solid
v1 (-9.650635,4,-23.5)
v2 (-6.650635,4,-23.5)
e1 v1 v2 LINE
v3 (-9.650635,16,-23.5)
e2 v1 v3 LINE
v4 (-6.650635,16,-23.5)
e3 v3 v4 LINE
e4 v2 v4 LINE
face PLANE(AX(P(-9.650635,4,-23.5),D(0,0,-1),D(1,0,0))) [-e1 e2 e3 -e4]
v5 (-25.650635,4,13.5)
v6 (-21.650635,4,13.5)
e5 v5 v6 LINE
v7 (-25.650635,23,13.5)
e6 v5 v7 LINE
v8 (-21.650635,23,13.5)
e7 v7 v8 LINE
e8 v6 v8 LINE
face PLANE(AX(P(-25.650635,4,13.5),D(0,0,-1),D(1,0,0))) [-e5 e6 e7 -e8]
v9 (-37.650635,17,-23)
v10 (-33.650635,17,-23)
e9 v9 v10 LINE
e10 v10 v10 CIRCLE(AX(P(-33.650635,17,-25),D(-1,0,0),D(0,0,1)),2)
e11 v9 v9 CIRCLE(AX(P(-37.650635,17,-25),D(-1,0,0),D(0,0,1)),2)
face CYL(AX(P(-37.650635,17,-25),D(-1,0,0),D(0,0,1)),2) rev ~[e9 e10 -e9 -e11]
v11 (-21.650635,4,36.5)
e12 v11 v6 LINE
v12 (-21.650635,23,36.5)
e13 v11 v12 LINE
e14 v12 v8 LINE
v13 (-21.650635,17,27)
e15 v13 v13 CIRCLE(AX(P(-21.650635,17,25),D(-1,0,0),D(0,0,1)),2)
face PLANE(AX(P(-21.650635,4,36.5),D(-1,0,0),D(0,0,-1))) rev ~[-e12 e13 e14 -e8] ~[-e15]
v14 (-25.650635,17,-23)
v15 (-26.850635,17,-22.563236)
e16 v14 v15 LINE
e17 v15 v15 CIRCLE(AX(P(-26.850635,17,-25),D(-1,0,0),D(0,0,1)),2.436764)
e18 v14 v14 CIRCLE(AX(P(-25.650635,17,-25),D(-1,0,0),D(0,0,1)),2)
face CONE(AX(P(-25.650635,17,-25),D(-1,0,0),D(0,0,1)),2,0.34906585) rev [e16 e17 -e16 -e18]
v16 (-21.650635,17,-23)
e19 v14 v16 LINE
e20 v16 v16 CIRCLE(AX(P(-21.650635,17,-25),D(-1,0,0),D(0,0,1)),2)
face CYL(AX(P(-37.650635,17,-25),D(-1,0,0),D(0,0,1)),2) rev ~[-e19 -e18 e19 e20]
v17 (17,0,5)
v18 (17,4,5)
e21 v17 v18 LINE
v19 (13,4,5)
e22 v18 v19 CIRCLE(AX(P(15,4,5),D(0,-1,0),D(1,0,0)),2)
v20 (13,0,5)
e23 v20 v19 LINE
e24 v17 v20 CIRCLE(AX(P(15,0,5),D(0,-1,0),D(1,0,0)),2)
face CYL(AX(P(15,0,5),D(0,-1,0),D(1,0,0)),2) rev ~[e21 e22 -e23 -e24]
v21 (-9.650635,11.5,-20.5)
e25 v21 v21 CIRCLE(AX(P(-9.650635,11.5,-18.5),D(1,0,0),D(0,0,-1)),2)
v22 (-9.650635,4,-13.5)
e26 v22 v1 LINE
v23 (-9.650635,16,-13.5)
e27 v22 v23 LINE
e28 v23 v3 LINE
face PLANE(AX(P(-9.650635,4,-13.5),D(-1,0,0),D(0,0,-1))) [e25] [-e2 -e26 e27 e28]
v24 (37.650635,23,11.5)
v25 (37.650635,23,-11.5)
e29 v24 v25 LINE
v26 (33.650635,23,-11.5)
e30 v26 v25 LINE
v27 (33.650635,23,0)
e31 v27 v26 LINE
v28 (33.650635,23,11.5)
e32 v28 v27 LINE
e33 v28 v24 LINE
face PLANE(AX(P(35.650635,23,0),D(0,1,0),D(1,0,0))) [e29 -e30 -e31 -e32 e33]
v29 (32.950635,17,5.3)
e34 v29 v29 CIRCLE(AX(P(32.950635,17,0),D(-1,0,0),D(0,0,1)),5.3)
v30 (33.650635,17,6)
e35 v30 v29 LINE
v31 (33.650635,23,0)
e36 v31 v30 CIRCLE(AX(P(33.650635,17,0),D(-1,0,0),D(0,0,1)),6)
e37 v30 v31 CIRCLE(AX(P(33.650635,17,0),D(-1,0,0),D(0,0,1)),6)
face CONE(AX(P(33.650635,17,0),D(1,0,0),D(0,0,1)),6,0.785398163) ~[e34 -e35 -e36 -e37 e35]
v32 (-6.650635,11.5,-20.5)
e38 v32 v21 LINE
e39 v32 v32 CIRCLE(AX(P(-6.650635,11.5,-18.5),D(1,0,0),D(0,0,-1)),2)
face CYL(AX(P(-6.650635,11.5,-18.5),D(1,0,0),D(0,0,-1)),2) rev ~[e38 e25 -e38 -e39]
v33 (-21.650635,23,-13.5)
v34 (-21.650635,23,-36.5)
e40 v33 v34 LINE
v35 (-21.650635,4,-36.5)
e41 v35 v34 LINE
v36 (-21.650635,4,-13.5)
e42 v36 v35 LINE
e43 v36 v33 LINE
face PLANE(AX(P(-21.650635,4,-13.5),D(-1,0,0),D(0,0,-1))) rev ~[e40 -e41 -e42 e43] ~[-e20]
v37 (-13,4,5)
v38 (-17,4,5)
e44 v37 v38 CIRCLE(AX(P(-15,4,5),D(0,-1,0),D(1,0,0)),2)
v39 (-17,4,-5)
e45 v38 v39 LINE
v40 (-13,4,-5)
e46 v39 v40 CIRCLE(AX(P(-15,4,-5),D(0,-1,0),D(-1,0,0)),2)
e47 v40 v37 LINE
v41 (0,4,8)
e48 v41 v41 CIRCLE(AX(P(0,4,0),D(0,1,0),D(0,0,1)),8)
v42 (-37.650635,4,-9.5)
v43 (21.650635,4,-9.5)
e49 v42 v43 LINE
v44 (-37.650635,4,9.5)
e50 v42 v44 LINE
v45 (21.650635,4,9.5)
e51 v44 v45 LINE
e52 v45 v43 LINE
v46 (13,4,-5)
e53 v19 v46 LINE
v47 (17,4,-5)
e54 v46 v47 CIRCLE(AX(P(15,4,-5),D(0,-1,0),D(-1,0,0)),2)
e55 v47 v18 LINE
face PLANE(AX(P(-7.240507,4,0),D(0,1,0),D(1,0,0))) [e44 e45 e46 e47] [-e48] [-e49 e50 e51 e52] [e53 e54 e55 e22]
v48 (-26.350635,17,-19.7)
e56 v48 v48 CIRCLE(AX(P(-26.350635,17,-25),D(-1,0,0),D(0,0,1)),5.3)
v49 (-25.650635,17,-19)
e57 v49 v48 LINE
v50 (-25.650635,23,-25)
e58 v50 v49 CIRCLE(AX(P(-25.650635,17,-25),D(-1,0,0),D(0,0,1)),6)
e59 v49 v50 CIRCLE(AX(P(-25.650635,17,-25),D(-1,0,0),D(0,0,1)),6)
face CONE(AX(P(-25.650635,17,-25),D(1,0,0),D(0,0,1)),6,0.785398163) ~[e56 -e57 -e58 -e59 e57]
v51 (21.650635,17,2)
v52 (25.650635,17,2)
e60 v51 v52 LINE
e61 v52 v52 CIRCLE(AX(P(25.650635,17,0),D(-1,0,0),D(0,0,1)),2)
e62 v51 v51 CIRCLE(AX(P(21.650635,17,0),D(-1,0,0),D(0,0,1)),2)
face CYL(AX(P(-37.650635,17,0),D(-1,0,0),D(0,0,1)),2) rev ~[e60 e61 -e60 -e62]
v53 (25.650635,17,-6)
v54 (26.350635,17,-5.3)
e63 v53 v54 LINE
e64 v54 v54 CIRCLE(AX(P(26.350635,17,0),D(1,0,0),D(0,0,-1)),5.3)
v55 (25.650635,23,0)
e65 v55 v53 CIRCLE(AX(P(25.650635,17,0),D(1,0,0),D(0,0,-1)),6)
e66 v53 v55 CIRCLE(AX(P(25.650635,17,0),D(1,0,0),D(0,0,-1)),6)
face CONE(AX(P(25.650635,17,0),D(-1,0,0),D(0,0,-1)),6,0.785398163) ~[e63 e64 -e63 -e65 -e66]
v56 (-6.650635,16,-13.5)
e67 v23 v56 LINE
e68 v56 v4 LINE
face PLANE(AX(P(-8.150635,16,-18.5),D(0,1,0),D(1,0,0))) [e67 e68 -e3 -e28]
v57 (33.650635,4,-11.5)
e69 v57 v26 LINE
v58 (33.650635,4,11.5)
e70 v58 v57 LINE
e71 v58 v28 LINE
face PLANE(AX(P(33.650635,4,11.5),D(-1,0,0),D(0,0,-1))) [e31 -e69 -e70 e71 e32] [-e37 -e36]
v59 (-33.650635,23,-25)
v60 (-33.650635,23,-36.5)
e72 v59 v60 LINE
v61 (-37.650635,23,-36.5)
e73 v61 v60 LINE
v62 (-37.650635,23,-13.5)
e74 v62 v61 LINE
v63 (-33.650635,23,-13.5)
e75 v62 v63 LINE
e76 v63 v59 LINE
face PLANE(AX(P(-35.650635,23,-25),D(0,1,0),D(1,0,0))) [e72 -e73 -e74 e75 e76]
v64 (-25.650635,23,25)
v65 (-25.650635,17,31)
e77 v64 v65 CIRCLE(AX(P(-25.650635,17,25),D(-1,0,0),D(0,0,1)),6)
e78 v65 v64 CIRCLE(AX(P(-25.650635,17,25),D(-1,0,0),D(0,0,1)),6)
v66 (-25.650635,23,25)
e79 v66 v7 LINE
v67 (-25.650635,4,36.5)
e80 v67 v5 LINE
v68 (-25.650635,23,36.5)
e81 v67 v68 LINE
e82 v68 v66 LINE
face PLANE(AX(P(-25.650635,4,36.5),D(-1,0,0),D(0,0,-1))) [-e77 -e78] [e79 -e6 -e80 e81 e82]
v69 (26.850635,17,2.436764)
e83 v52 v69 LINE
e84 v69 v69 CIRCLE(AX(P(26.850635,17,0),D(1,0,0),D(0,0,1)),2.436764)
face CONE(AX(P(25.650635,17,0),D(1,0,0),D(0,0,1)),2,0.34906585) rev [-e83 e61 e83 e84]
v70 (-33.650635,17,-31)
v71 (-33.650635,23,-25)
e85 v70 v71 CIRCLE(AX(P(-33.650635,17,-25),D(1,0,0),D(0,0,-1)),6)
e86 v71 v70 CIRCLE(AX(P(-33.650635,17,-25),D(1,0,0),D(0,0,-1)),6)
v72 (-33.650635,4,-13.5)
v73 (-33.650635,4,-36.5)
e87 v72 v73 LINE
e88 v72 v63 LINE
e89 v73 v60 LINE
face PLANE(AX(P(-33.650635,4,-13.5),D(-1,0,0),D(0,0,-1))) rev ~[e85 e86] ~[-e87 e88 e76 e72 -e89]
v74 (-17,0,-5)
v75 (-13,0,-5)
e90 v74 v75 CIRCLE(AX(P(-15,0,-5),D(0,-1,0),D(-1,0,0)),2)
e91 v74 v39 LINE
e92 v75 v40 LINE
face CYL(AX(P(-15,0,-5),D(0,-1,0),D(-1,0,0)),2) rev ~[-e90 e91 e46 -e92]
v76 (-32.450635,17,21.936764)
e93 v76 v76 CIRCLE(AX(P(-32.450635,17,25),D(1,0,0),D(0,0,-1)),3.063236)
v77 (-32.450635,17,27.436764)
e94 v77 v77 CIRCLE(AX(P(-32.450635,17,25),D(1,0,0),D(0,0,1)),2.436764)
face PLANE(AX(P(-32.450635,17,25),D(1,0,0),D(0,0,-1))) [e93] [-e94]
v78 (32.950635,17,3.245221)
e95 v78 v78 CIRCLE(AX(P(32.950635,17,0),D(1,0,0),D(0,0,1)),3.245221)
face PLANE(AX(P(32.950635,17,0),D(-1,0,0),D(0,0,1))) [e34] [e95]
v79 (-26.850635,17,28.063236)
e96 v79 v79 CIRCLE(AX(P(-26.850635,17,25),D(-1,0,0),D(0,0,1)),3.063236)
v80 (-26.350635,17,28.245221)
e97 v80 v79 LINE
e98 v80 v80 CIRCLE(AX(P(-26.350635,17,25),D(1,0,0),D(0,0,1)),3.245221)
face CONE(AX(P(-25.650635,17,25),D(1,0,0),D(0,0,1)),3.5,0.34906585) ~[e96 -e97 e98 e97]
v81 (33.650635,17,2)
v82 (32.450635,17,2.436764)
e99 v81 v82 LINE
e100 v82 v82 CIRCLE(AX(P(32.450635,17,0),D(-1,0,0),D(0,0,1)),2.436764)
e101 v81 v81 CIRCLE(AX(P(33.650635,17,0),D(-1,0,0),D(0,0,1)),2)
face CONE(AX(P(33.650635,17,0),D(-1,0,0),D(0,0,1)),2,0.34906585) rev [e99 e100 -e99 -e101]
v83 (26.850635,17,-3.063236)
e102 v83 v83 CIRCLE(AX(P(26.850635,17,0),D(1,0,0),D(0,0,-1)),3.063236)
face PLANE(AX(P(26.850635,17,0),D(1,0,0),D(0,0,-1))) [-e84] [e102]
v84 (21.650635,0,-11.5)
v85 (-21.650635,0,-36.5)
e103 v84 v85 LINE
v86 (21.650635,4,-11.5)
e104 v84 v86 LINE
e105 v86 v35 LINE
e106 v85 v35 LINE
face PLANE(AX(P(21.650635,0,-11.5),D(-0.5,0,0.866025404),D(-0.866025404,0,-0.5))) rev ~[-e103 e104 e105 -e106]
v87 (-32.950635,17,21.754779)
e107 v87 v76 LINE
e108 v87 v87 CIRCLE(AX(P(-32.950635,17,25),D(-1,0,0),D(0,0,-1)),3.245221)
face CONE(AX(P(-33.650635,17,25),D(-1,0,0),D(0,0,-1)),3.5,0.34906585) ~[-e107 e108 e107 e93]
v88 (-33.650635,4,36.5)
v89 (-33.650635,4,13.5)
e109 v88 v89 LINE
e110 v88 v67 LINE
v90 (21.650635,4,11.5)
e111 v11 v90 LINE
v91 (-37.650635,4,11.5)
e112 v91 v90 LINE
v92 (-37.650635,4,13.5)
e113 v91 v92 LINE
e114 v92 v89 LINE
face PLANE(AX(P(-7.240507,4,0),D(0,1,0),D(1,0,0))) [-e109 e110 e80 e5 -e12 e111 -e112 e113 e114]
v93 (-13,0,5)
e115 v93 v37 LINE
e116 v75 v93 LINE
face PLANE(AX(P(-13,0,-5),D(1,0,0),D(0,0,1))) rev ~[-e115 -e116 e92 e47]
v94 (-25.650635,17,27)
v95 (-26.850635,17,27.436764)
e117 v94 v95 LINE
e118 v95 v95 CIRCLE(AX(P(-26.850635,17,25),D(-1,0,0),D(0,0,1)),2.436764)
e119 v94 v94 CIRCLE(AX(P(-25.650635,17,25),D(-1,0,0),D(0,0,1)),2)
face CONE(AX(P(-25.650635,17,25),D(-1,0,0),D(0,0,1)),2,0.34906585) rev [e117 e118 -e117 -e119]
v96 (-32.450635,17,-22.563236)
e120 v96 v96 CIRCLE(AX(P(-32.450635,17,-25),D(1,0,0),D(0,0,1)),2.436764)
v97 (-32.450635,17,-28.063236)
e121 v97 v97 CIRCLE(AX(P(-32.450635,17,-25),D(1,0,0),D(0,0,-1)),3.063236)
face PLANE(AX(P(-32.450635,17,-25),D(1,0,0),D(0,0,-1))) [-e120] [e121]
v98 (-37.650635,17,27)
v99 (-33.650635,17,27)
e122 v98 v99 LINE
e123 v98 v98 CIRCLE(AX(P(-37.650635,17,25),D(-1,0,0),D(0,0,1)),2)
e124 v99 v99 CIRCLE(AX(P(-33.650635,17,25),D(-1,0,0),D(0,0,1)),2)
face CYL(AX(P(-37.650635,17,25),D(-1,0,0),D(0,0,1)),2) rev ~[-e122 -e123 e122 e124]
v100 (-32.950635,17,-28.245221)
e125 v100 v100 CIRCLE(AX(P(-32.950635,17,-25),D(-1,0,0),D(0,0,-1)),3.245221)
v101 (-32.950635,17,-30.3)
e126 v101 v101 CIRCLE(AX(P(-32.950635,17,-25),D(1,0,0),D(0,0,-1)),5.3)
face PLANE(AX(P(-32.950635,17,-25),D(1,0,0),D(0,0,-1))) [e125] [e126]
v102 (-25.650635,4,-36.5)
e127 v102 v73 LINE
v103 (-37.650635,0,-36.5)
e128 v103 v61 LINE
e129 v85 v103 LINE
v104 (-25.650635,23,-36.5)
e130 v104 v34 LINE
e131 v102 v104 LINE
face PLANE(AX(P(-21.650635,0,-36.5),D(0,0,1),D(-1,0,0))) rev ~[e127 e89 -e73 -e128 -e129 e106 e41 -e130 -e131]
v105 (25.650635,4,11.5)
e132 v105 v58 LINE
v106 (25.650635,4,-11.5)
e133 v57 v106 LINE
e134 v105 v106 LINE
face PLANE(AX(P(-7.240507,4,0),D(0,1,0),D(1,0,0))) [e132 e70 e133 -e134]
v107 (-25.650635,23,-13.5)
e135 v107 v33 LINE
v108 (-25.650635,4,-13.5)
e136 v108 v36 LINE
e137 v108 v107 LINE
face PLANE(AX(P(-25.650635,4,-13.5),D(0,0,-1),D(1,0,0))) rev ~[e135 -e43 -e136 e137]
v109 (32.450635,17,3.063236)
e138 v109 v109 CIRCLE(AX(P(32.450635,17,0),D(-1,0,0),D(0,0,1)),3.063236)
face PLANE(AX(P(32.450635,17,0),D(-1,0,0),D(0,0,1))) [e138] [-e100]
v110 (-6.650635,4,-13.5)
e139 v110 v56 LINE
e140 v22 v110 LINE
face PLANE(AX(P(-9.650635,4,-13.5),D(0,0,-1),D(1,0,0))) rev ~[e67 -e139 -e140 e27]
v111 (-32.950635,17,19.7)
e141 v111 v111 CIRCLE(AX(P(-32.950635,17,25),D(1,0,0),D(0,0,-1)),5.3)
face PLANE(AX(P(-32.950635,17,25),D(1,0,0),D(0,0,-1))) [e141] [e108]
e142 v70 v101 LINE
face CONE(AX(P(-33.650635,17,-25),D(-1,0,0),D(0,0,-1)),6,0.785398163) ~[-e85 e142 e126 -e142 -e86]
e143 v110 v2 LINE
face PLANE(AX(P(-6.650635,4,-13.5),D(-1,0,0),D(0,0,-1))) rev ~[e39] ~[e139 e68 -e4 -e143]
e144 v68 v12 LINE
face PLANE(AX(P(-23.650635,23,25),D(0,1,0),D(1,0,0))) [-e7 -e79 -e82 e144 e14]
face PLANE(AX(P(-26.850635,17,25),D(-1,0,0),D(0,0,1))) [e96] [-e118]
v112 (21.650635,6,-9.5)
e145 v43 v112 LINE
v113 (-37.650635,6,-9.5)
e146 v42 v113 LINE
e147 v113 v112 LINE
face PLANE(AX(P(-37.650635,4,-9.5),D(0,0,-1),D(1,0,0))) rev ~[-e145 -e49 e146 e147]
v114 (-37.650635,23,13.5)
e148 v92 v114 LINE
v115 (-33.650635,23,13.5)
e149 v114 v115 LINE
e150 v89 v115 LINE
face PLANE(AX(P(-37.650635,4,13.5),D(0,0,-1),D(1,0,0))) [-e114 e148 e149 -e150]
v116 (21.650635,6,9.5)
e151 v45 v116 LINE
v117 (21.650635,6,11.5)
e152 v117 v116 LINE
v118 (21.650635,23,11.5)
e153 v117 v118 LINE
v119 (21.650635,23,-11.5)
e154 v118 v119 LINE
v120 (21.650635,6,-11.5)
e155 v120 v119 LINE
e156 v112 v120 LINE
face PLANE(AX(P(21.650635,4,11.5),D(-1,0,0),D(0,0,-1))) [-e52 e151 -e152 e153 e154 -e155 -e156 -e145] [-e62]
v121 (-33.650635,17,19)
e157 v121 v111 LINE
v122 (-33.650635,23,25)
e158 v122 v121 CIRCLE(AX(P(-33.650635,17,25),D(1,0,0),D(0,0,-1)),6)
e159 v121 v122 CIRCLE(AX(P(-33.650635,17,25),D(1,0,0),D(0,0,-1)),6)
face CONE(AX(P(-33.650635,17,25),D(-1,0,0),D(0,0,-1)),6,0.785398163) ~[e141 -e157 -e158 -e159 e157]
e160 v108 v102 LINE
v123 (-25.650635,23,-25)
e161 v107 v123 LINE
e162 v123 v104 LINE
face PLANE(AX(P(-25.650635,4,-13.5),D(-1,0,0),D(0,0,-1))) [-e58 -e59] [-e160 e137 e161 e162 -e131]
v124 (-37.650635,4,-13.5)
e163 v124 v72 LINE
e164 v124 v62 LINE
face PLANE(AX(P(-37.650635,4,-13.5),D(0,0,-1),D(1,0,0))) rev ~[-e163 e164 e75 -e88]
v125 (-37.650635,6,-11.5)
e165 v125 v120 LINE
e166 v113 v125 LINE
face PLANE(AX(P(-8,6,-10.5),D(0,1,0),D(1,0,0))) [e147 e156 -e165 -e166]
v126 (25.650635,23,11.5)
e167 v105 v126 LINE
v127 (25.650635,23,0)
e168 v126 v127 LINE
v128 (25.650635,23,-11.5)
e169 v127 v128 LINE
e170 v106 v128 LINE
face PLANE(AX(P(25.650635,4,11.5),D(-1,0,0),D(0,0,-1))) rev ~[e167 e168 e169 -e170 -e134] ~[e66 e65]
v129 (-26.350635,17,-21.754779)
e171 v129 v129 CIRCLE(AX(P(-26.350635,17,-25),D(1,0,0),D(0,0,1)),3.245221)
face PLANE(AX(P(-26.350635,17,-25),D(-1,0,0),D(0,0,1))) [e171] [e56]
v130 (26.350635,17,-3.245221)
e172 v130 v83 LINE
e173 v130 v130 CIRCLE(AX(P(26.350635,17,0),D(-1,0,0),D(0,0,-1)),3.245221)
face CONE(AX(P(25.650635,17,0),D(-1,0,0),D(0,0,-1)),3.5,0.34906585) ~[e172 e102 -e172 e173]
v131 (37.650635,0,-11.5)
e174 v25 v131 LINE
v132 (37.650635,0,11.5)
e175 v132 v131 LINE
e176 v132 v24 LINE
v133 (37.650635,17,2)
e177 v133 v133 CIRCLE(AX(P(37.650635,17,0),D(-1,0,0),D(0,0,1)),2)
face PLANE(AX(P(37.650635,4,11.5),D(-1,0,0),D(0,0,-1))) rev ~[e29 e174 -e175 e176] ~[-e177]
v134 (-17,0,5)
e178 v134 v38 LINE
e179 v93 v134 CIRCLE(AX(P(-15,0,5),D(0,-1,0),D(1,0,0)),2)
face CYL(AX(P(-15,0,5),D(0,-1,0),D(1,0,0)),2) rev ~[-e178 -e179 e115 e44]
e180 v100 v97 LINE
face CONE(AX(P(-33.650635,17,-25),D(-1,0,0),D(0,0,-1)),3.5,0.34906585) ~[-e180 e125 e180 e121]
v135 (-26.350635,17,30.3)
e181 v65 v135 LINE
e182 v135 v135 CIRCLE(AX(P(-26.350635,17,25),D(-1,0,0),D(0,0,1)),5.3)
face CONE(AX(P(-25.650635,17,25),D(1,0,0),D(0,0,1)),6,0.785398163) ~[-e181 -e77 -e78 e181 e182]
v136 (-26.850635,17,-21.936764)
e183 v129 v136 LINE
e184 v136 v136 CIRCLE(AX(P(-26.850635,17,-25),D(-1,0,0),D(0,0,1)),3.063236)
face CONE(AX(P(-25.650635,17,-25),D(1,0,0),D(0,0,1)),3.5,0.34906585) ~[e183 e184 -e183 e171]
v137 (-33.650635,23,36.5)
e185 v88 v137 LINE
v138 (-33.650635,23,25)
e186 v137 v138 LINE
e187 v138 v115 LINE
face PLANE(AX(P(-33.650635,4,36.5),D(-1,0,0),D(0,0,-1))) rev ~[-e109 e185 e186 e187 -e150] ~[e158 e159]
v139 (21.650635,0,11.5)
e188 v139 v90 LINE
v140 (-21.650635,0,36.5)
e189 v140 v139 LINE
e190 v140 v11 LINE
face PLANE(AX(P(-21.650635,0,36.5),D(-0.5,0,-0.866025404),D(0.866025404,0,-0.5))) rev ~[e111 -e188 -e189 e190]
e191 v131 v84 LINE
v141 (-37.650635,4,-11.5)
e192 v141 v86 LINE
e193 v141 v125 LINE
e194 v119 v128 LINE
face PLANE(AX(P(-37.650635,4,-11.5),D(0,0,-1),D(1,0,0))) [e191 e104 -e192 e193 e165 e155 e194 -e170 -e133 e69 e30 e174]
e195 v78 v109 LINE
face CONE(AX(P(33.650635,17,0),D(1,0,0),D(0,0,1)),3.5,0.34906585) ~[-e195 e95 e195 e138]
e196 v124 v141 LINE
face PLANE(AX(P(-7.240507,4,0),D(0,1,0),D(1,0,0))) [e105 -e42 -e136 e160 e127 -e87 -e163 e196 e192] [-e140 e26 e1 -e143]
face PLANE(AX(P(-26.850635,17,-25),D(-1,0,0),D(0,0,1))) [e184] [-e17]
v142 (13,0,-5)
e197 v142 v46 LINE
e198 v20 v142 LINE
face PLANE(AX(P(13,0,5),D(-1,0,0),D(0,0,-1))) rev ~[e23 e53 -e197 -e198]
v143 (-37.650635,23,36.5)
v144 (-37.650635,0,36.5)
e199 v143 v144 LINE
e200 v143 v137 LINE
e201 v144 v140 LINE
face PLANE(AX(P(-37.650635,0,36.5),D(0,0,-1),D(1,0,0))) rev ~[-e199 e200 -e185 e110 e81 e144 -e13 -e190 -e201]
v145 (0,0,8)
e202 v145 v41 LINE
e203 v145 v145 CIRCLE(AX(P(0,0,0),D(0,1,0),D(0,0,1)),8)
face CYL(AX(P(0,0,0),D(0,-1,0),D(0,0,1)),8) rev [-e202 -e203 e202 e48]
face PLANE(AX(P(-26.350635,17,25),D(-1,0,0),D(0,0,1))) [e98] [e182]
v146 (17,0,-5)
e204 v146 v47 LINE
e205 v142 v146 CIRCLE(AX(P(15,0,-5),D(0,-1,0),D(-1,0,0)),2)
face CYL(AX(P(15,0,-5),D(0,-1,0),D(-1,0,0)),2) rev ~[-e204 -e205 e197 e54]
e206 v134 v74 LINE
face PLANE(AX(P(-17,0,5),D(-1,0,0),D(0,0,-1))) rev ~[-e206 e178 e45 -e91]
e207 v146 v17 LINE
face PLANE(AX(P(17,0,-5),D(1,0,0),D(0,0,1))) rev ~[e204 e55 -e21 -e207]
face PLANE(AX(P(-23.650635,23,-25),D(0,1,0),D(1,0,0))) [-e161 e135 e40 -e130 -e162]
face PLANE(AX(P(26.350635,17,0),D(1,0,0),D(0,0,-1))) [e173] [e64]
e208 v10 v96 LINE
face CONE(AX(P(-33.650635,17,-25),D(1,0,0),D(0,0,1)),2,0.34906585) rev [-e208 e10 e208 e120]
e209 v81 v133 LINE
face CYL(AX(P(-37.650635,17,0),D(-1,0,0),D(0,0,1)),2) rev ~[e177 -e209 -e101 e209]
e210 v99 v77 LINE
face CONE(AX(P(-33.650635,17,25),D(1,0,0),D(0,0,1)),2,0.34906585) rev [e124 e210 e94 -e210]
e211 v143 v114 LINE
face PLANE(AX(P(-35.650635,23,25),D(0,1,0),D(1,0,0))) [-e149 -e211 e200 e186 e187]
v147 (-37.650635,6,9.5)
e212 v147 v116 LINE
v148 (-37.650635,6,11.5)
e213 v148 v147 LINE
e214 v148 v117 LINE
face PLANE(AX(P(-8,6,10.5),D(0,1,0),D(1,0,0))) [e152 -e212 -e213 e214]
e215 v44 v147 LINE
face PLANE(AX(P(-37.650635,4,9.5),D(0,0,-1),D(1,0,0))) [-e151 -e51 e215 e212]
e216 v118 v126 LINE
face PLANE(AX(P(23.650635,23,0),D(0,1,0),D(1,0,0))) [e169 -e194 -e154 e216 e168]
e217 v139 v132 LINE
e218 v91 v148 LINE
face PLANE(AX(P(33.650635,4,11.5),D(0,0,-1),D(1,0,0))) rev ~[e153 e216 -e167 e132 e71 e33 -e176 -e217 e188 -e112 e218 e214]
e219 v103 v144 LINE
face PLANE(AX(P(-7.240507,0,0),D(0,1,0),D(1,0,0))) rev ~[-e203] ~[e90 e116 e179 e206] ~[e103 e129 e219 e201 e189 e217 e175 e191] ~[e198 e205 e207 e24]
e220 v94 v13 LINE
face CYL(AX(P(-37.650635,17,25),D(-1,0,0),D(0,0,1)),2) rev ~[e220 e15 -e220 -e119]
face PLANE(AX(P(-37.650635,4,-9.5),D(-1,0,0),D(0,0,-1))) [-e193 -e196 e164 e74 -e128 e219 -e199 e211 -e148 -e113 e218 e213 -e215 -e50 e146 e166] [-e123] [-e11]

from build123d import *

# Parameters (mm, degrees)
SKETCH1_R                     = 8
BOSS_EXTRUDE1_DEPTH           = 4
SKETCH2_W                     = 4
SKETCH2_H                     = 23
BOSS_EXTRUDE2_DEPTH           = 19
SKETCH3_R                     = 2
CUT_EXTRUDE1_DEPTH            = 87.784395441
SKETCH4_R                     = 6
SKETCH4_R_2                   = 2
BOSS_EXTRUDE3_DEPTH           = 0.7
BOSS_EXTRUDE3_DRAFT           = 45
BOSS_EXTRUDE3_PROFILE_2_DEPTH = 0.7
BOSS_EXTRUDE3_PROFILE_2_DRAFT = 45
SKETCH5_R                     = 3.5
SKETCH5_R_2                   = 2
BOSS_EXTRUDE4_DEPTH           = 1.2
BOSS_EXTRUDE4_DRAFT           = 20
BOSS_EXTRUDE4_PROFILE_2_DEPTH = 1.2
BOSS_EXTRUDE4_PROFILE_2_DRAFT = 20
SKETCH6_R                     = 6
SKETCH6_R_2                   = 2
BOSS_EXTRUDE5_DEPTH           = 0.7
BOSS_EXTRUDE5_DRAFT           = 45
BOSS_EXTRUDE5_PROFILE_2_DEPTH = 0.7
BOSS_EXTRUDE5_PROFILE_2_DRAFT = 45
SKETCH7_R                     = 3.5
SKETCH7_R_2                   = 2
BOSS_EXTRUDE6_DEPTH           = 1.2
BOSS_EXTRUDE6_DRAFT           = 20
BOSS_EXTRUDE6_PROFILE_2_DEPTH = 1.2
BOSS_EXTRUDE6_PROFILE_2_DRAFT = 20
SKETCH8_R                     = 6
SKETCH8_R_2                   = 2
BOSS_EXTRUDE7_DEPTH           = 0.7
BOSS_EXTRUDE7_DRAFT           = 45
SKETCH9_R                     = 3.5
SKETCH9_R_2                   = 2
BOSS_EXTRUDE8_DEPTH           = 1.2
BOSS_EXTRUDE8_DRAFT           = 20
SKETCH11_R                    = 6
SKETCH11_R_2                  = 2
BOSS_EXTRUDE9_DEPTH           = 0.7
BOSS_EXTRUDE9_DRAFT           = 45
SKETCH12_R                    = 3.5
SKETCH12_R_2                  = 2
BOSS_EXTRUDE10_DEPTH          = 1.2
BOSS_EXTRUDE10_DRAFT          = 20
SKETCH13_W                    = 59.30127019
SKETCH13_H                    = 2
BOSS_EXTRUDE11_DEPTH          = 2
SKETCH14_W                    = 3
SKETCH14_H                    = 10
BOSS_EXTRUDE12_DEPTH          = 12
CUT_EXTRUDE2_REACH            = 63.837
SKETCH15_R                    = 2


with BuildPart() as part:
    # Sketch1 → Boss-Extrude1 (new body)
    with BuildSketch(Plane(origin=(0, 0, 0), x_dir=(1, 0, 0), z_dir=(0, 1, 0))):
        Polygon((-21.650635095, 36.5), (-37.650635095, 36.5), (-37.650635095, -36.5), (-21.650635095, -36.5), (21.650635095, -11.5), (37.650635095, -11.5), (37.650635095, 11.5), (21.650635095, 11.5), align=None)
        with BuildLine():
            ThreePointArc((-13, -5), (-15, -7), (-17, -5))
            Line((-17, -5), (-17, 5))
            ThreePointArc((-17, 5), (-15, 7), (-13, 5))
            Line((-13, 5), (-13, -5))
        make_face(mode=Mode.SUBTRACT)
        with Locations(Location((0, 0, 0), (0, 0, 270))):
            Circle(SKETCH1_R, mode=Mode.SUBTRACT)
        with BuildLine():
            ThreePointArc((17, -5), (15, -7), (13, -5))
            Line((13, -5), (13, 5))
            ThreePointArc((13, 5), (15, 7), (17, 5))
            Line((17, 5), (17, -5))
        make_face(mode=Mode.SUBTRACT)
    extrude(amount=BOSS_EXTRUDE1_DEPTH)

    # Sketch2 → Boss-Extrude2 (add)
    with BuildSketch(Plane(origin=(0, 4, 0), x_dir=(1, 0, 0), z_dir=(0, 1, 0))):
        with Locations((35.650635095, 0)):
            Rectangle(SKETCH2_W, SKETCH2_H)
        with Locations((23.650635095, 0)):
            Rectangle(SKETCH2_W, SKETCH2_H)
        with Locations((-35.650635095, 25)):
            Rectangle(SKETCH2_W, SKETCH2_H)
        with Locations((-23.650635095, 25)):
            Rectangle(SKETCH2_W, SKETCH2_H)
        with Locations((-35.650635095, -25)):
            Rectangle(SKETCH2_W, SKETCH2_H)
        with Locations((-23.650635095, -25)):
            Rectangle(SKETCH2_W, SKETCH2_H)
    extrude(amount=BOSS_EXTRUDE2_DEPTH)

    # Sketch3 → Cut-Extrude1 (cut, through all)
    with BuildSketch(Plane.ZY.offset(37.650635095)):
        with Locations((-25, 17)):
            Circle(SKETCH3_R)
        with Locations((0, 17)):
            Circle(SKETCH3_R)
        with Locations((25, 17)):
            Circle(SKETCH3_R)
    extrude(amount=-CUT_EXTRUDE1_DEPTH, mode=Mode.SUBTRACT)


with BuildPart() as boss_extrude3_tool:
    # Sketch4 → Boss-Extrude3 (with draft: the straight prism first)
    with BuildSketch(Plane.ZY.offset(25.650635095)):
        with Locations((-25, 17)):
            Circle(SKETCH4_R)
        with Locations((-25, 17)):
            Circle(SKETCH4_R_2, mode=Mode.SUBTRACT)
    extrude(amount=BOSS_EXTRUDE3_DEPTH)
    # Boss-Extrude3: the draft: its side faces are tilted about the plane it starts from
    boss_extrude3_sides = [boss_extrude3_tool.faces().sort_by_distance(p)[0] for p in [
        (-26.000635095, 17, -31),
        (-26.000635095, 17, -27),
    ]]
    draft(boss_extrude3_sides, Plane.ZY.offset(25.650635095), BOSS_EXTRUDE3_DRAFT)


with BuildPart() as part_1:
    add(part.part)

    # Boss-Extrude3: add boss_extrude3_tool
    add(boss_extrude3_tool.part)


with BuildPart() as boss_extrude3_profile_2_tool:
    # Sketch4 → Boss-Extrude3 profile 2 (with draft: the straight prism first)
    with BuildSketch(Plane.ZY.offset(25.650635095)):
        with Locations((25, 17)):
            Circle(SKETCH4_R)
        with Locations((25, 17)):
            Circle(SKETCH4_R_2, mode=Mode.SUBTRACT)
    extrude(amount=BOSS_EXTRUDE3_PROFILE_2_DEPTH)
    # Boss-Extrude3 profile 2: the draft: its side faces are tilted about the plane it starts from
    boss_extrude3_profile_2_sides = [boss_extrude3_profile_2_tool.faces().sort_by_distance(p)[0] for p in [
        (-26.000635095, 17, 19),
        (-26.000635095, 17, 23),
    ]]
    draft(boss_extrude3_profile_2_sides, Plane.ZY.offset(25.650635095), BOSS_EXTRUDE3_PROFILE_2_DRAFT)


with BuildPart() as part_2:
    add(part_1.part)

    # Boss-Extrude3 profile 2: add boss_extrude3_profile_2_tool
    add(boss_extrude3_profile_2_tool.part)


with BuildPart() as boss_extrude4_tool:
    # Sketch5 → Boss-Extrude4 (with draft: the straight prism first)
    with BuildSketch(Plane.ZY.offset(25.650635095)):
        with Locations((-25, 17)):
            Circle(SKETCH5_R)
        with Locations((-25, 17)):
            Circle(SKETCH5_R_2, mode=Mode.SUBTRACT)
    extrude(amount=BOSS_EXTRUDE4_DEPTH)
    # Boss-Extrude4: the draft: its side faces are tilted about the plane it starts from
    boss_extrude4_sides = [boss_extrude4_tool.faces().sort_by_distance(p)[0] for p in [
        (-26.250635095, 17, -28.5),
        (-26.250635095, 17, -27),
    ]]
    draft(boss_extrude4_sides, Plane.ZY.offset(25.650635095), BOSS_EXTRUDE4_DRAFT)


with BuildPart() as part_3:
    add(part_2.part)

    # Boss-Extrude4: add boss_extrude4_tool
    add(boss_extrude4_tool.part)


with BuildPart() as boss_extrude4_profile_2_tool:
    # Sketch5 → Boss-Extrude4 profile 2 (with draft: the straight prism first)
    with BuildSketch(Plane.ZY.offset(25.650635095)):
        with Locations((25, 17)):
            Circle(SKETCH5_R)
        with Locations((25, 17)):
            Circle(SKETCH5_R_2, mode=Mode.SUBTRACT)
    extrude(amount=BOSS_EXTRUDE4_PROFILE_2_DEPTH)
    # Boss-Extrude4 profile 2: the draft: its side faces are tilted about the plane it starts from
    boss_extrude4_profile_2_sides = [boss_extrude4_profile_2_tool.faces().sort_by_distance(p)[0] for p in [
        (-26.250635095, 17, 21.5),
        (-26.250635095, 17, 23),
    ]]
    draft(boss_extrude4_profile_2_sides, Plane.ZY.offset(25.650635095), BOSS_EXTRUDE4_PROFILE_2_DRAFT)


with BuildPart() as part_4:
    add(part_3.part)

    # Boss-Extrude4 profile 2: add boss_extrude4_profile_2_tool
    add(boss_extrude4_profile_2_tool.part)


with BuildPart() as boss_extrude5_tool:
    # Sketch6 → Boss-Extrude5 (with draft: the straight prism first)
    with BuildSketch(Plane(origin=(-33.650635095, 0, 0), x_dir=(0, 0, -1), z_dir=(1, 0, 0))):
        with Locations((-25, 17)):
            Circle(SKETCH6_R)
        with Locations(Location((-25, 17, 0), (0, 0, 180))):
            Circle(SKETCH6_R_2, mode=Mode.SUBTRACT)
    extrude(amount=BOSS_EXTRUDE5_DEPTH)
    # Boss-Extrude5: the draft: its side faces are tilted about the plane it starts from
    boss_extrude5_sides = [boss_extrude5_tool.faces().sort_by_distance(p)[0] for p in [
        (-33.300635095, 17, 31),
        (-33.300635095, 17, 23),
    ]]
    draft(boss_extrude5_sides, Plane(origin=(-33.650635095, 0, 0), x_dir=(0, 0, -1), z_dir=(1, 0, 0)), BOSS_EXTRUDE5_DRAFT)


with BuildPart() as part_5:
    add(part_4.part)

    # Boss-Extrude5: add boss_extrude5_tool
    add(boss_extrude5_tool.part)


with BuildPart() as boss_extrude5_profile_2_tool:
    # Sketch6 → Boss-Extrude5 profile 2 (with draft: the straight prism first)
    with BuildSketch(Plane(origin=(-33.650635095, 0, 0), x_dir=(0, 0, -1), z_dir=(1, 0, 0))):
        with Locations((25, 17)):
            Circle(SKETCH6_R)
        with Locations(Location((25, 17, 0), (0, 0, 180))):
            Circle(SKETCH6_R_2, mode=Mode.SUBTRACT)
    extrude(amount=BOSS_EXTRUDE5_PROFILE_2_DEPTH)
    # Boss-Extrude5 profile 2: the draft: its side faces are tilted about the plane it starts from
    boss_extrude5_profile_2_sides = [boss_extrude5_profile_2_tool.faces().sort_by_distance(p)[0] for p in [
        (-33.300635095, 17, -19),
        (-33.300635095, 17, -27),
    ]]
    draft(boss_extrude5_profile_2_sides, Plane(origin=(-33.650635095, 0, 0), x_dir=(0, 0, -1), z_dir=(1, 0, 0)), BOSS_EXTRUDE5_PROFILE_2_DRAFT)


with BuildPart() as part_6:
    add(part_5.part)

    # Boss-Extrude5 profile 2: add boss_extrude5_profile_2_tool
    add(boss_extrude5_profile_2_tool.part)


with BuildPart() as boss_extrude6_tool:
    # Sketch7 → Boss-Extrude6 (with draft: the straight prism first)
    with BuildSketch(Plane(origin=(-33.650635095, 0, 0), x_dir=(0, 0, -1), z_dir=(1, 0, 0))):
        with Locations((-25, 17)):
            Circle(SKETCH7_R)
        with Locations(Location((-25, 17, 0), (0, 0, 180))):
            Circle(SKETCH7_R_2, mode=Mode.SUBTRACT)
    extrude(amount=BOSS_EXTRUDE6_DEPTH)
    # Boss-Extrude6: the draft: its side faces are tilted about the plane it starts from
    boss_extrude6_sides = [boss_extrude6_tool.faces().sort_by_distance(p)[0] for p in [
        (-33.050635095, 17, 28.5),
        (-33.050635095, 17, 23),
    ]]
    draft(boss_extrude6_sides, Plane(origin=(-33.650635095, 0, 0), x_dir=(0, 0, -1), z_dir=(1, 0, 0)), BOSS_EXTRUDE6_DRAFT)


with BuildPart() as part_7:
    add(part_6.part)

    # Boss-Extrude6: add boss_extrude6_tool
    add(boss_extrude6_tool.part)


with BuildPart() as boss_extrude6_profile_2_tool:
    # Sketch7 → Boss-Extrude6 profile 2 (with draft: the straight prism first)
    with BuildSketch(Plane(origin=(-33.650635095, 0, 0), x_dir=(0, 0, -1), z_dir=(1, 0, 0))):
        with Locations((25, 17)):
            Circle(SKETCH7_R)
        with Locations(Location((25, 17, 0), (0, 0, 180))):
            Circle(SKETCH7_R_2, mode=Mode.SUBTRACT)
    extrude(amount=BOSS_EXTRUDE6_PROFILE_2_DEPTH)
    # Boss-Extrude6 profile 2: the draft: its side faces are tilted about the plane it starts from
    boss_extrude6_profile_2_sides = [boss_extrude6_profile_2_tool.faces().sort_by_distance(p)[0] for p in [
        (-33.050635095, 17, -21.5),
        (-33.050635095, 17, -27),
    ]]
    draft(boss_extrude6_profile_2_sides, Plane(origin=(-33.650635095, 0, 0), x_dir=(0, 0, -1), z_dir=(1, 0, 0)), BOSS_EXTRUDE6_PROFILE_2_DRAFT)


with BuildPart() as part_8:
    add(part_7.part)

    # Boss-Extrude6 profile 2: add boss_extrude6_profile_2_tool
    add(boss_extrude6_profile_2_tool.part)


with BuildPart() as boss_extrude7_tool:
    # Sketch8 → Boss-Extrude7 (with draft: the straight prism first)
    with BuildSketch(Plane(origin=(25.650635095, 0, 0), x_dir=(0, 0, -1), z_dir=(1, 0, 0))):
        with Locations((0, 17)):
            Circle(SKETCH8_R)
        with Locations(Location((0, 17, 0), (0, 0, 180))):
            Circle(SKETCH8_R_2, mode=Mode.SUBTRACT)
    extrude(amount=BOSS_EXTRUDE7_DEPTH)
    # Boss-Extrude7: the draft: its side faces are tilted about the plane it starts from
    boss_extrude7_sides = [boss_extrude7_tool.faces().sort_by_distance(p)[0] for p in [
        (26.000635095, 17, 6),
        (26.000635095, 17, -2),
    ]]
    draft(boss_extrude7_sides, Plane(origin=(25.650635095, 0, 0), x_dir=(0, 0, -1), z_dir=(1, 0, 0)), BOSS_EXTRUDE7_DRAFT)


with BuildPart() as part_9:
    add(part_8.part)

    # Boss-Extrude7: add boss_extrude7_tool
    add(boss_extrude7_tool.part)


with BuildPart() as boss_extrude8_tool:
    # Sketch9 → Boss-Extrude8 (with draft: the straight prism first)
    with BuildSketch(Plane(origin=(25.650635095, 0, 0), x_dir=(0, 0, -1), z_dir=(1, 0, 0))):
        with Locations((0, 17)):
            Circle(SKETCH9_R)
        with Locations(Location((0, 17, 0), (0, 0, 180))):
            Circle(SKETCH9_R_2, mode=Mode.SUBTRACT)
    extrude(amount=BOSS_EXTRUDE8_DEPTH)
    # Boss-Extrude8: the draft: its side faces are tilted about the plane it starts from
    boss_extrude8_sides = [boss_extrude8_tool.faces().sort_by_distance(p)[0] for p in [
        (26.250635095, 17, 3.5),
        (26.250635095, 17, -2),
    ]]
    draft(boss_extrude8_sides, Plane(origin=(25.650635095, 0, 0), x_dir=(0, 0, -1), z_dir=(1, 0, 0)), BOSS_EXTRUDE8_DRAFT)


with BuildPart() as part_10:
    add(part_9.part)

    # Boss-Extrude8: add boss_extrude8_tool
    add(boss_extrude8_tool.part)


with BuildPart() as boss_extrude9_tool:
    # Sketch11 → Boss-Extrude9 (with draft: the straight prism first)
    with BuildSketch(Plane.ZY.offset(-33.650635095)):
        with Locations((0, 17)):
            Circle(SKETCH11_R)
        with Locations((0, 17)):
            Circle(SKETCH11_R_2, mode=Mode.SUBTRACT)
    extrude(amount=BOSS_EXTRUDE9_DEPTH)
    # Boss-Extrude9: the draft: its side faces are tilted about the plane it starts from
    boss_extrude9_sides = [boss_extrude9_tool.faces().sort_by_distance(p)[0] for p in [
        (33.300635095, 17, -6),
        (33.300635095, 17, -2),
    ]]
    draft(boss_extrude9_sides, Plane.ZY.offset(-33.650635095), BOSS_EXTRUDE9_DRAFT)


with BuildPart() as part_11:
    add(part_10.part)

    # Boss-Extrude9: add boss_extrude9_tool
    add(boss_extrude9_tool.part)


with BuildPart() as boss_extrude10_tool:
    # Sketch12 → Boss-Extrude10 (with draft: the straight prism first)
    with BuildSketch(Plane.ZY.offset(-33.650635095)):
        with Locations((0, 17)):
            Circle(SKETCH12_R)
        with Locations((0, 17)):
            Circle(SKETCH12_R_2, mode=Mode.SUBTRACT)
    extrude(amount=BOSS_EXTRUDE10_DEPTH)
    # Boss-Extrude10: the draft: its side faces are tilted about the plane it starts from
    boss_extrude10_sides = [boss_extrude10_tool.faces().sort_by_distance(p)[0] for p in [
        (33.050635095, 17, -3.5),
        (33.050635095, 17, -2),
    ]]
    draft(boss_extrude10_sides, Plane.ZY.offset(-33.650635095), BOSS_EXTRUDE10_DRAFT)


with BuildPart() as part_12:
    add(part_11.part)

    # Boss-Extrude10: add boss_extrude10_tool
    add(boss_extrude10_tool.part)

    # Sketch13 → Boss-Extrude11 (add)
    with BuildSketch(Plane(origin=(0, 4, 0), x_dir=(1, 0, 0), z_dir=(0, 1, 0))):
        with Locations((-8, 10.5)):
            Rectangle(SKETCH13_W, SKETCH13_H)
        with Locations((-8, -10.5)):
            Rectangle(SKETCH13_W, SKETCH13_H)
    extrude(amount=BOSS_EXTRUDE11_DEPTH)

    # Sketch14 → Boss-Extrude12 (add)
    with BuildSketch(Plane(origin=(0, 4, 0), x_dir=(1, 0, 0), z_dir=(0, 1, 0))):
        with Locations((-8.150635095, 18.5)):
            Rectangle(SKETCH14_W, SKETCH14_H)
    extrude(amount=BOSS_EXTRUDE12_DEPTH)

    # Sketch15 → Cut-Extrude2 (cut, up to next)
    with BuildSketch(Plane(origin=(-6.650635095, 0, 0), x_dir=(0, 0, -1), z_dir=(1, 0, 0)), mode=Mode.PRIVATE) as cut_extrude2_sk1:
        with Locations((18.5, 11.5)):
            Circle(SKETCH15_R)
    cut_extrude2_tool1 = extrude(cut_extrude2_sk1.sketch, amount=-CUT_EXTRUDE2_REACH, mode=Mode.PRIVATE) & part_12.part
    add(cut_extrude2_tool1.solids().sort_by_distance((-6.650635, 11.5, -18.5))[0], mode=Mode.SUBTRACT)


solid = part_12.part
